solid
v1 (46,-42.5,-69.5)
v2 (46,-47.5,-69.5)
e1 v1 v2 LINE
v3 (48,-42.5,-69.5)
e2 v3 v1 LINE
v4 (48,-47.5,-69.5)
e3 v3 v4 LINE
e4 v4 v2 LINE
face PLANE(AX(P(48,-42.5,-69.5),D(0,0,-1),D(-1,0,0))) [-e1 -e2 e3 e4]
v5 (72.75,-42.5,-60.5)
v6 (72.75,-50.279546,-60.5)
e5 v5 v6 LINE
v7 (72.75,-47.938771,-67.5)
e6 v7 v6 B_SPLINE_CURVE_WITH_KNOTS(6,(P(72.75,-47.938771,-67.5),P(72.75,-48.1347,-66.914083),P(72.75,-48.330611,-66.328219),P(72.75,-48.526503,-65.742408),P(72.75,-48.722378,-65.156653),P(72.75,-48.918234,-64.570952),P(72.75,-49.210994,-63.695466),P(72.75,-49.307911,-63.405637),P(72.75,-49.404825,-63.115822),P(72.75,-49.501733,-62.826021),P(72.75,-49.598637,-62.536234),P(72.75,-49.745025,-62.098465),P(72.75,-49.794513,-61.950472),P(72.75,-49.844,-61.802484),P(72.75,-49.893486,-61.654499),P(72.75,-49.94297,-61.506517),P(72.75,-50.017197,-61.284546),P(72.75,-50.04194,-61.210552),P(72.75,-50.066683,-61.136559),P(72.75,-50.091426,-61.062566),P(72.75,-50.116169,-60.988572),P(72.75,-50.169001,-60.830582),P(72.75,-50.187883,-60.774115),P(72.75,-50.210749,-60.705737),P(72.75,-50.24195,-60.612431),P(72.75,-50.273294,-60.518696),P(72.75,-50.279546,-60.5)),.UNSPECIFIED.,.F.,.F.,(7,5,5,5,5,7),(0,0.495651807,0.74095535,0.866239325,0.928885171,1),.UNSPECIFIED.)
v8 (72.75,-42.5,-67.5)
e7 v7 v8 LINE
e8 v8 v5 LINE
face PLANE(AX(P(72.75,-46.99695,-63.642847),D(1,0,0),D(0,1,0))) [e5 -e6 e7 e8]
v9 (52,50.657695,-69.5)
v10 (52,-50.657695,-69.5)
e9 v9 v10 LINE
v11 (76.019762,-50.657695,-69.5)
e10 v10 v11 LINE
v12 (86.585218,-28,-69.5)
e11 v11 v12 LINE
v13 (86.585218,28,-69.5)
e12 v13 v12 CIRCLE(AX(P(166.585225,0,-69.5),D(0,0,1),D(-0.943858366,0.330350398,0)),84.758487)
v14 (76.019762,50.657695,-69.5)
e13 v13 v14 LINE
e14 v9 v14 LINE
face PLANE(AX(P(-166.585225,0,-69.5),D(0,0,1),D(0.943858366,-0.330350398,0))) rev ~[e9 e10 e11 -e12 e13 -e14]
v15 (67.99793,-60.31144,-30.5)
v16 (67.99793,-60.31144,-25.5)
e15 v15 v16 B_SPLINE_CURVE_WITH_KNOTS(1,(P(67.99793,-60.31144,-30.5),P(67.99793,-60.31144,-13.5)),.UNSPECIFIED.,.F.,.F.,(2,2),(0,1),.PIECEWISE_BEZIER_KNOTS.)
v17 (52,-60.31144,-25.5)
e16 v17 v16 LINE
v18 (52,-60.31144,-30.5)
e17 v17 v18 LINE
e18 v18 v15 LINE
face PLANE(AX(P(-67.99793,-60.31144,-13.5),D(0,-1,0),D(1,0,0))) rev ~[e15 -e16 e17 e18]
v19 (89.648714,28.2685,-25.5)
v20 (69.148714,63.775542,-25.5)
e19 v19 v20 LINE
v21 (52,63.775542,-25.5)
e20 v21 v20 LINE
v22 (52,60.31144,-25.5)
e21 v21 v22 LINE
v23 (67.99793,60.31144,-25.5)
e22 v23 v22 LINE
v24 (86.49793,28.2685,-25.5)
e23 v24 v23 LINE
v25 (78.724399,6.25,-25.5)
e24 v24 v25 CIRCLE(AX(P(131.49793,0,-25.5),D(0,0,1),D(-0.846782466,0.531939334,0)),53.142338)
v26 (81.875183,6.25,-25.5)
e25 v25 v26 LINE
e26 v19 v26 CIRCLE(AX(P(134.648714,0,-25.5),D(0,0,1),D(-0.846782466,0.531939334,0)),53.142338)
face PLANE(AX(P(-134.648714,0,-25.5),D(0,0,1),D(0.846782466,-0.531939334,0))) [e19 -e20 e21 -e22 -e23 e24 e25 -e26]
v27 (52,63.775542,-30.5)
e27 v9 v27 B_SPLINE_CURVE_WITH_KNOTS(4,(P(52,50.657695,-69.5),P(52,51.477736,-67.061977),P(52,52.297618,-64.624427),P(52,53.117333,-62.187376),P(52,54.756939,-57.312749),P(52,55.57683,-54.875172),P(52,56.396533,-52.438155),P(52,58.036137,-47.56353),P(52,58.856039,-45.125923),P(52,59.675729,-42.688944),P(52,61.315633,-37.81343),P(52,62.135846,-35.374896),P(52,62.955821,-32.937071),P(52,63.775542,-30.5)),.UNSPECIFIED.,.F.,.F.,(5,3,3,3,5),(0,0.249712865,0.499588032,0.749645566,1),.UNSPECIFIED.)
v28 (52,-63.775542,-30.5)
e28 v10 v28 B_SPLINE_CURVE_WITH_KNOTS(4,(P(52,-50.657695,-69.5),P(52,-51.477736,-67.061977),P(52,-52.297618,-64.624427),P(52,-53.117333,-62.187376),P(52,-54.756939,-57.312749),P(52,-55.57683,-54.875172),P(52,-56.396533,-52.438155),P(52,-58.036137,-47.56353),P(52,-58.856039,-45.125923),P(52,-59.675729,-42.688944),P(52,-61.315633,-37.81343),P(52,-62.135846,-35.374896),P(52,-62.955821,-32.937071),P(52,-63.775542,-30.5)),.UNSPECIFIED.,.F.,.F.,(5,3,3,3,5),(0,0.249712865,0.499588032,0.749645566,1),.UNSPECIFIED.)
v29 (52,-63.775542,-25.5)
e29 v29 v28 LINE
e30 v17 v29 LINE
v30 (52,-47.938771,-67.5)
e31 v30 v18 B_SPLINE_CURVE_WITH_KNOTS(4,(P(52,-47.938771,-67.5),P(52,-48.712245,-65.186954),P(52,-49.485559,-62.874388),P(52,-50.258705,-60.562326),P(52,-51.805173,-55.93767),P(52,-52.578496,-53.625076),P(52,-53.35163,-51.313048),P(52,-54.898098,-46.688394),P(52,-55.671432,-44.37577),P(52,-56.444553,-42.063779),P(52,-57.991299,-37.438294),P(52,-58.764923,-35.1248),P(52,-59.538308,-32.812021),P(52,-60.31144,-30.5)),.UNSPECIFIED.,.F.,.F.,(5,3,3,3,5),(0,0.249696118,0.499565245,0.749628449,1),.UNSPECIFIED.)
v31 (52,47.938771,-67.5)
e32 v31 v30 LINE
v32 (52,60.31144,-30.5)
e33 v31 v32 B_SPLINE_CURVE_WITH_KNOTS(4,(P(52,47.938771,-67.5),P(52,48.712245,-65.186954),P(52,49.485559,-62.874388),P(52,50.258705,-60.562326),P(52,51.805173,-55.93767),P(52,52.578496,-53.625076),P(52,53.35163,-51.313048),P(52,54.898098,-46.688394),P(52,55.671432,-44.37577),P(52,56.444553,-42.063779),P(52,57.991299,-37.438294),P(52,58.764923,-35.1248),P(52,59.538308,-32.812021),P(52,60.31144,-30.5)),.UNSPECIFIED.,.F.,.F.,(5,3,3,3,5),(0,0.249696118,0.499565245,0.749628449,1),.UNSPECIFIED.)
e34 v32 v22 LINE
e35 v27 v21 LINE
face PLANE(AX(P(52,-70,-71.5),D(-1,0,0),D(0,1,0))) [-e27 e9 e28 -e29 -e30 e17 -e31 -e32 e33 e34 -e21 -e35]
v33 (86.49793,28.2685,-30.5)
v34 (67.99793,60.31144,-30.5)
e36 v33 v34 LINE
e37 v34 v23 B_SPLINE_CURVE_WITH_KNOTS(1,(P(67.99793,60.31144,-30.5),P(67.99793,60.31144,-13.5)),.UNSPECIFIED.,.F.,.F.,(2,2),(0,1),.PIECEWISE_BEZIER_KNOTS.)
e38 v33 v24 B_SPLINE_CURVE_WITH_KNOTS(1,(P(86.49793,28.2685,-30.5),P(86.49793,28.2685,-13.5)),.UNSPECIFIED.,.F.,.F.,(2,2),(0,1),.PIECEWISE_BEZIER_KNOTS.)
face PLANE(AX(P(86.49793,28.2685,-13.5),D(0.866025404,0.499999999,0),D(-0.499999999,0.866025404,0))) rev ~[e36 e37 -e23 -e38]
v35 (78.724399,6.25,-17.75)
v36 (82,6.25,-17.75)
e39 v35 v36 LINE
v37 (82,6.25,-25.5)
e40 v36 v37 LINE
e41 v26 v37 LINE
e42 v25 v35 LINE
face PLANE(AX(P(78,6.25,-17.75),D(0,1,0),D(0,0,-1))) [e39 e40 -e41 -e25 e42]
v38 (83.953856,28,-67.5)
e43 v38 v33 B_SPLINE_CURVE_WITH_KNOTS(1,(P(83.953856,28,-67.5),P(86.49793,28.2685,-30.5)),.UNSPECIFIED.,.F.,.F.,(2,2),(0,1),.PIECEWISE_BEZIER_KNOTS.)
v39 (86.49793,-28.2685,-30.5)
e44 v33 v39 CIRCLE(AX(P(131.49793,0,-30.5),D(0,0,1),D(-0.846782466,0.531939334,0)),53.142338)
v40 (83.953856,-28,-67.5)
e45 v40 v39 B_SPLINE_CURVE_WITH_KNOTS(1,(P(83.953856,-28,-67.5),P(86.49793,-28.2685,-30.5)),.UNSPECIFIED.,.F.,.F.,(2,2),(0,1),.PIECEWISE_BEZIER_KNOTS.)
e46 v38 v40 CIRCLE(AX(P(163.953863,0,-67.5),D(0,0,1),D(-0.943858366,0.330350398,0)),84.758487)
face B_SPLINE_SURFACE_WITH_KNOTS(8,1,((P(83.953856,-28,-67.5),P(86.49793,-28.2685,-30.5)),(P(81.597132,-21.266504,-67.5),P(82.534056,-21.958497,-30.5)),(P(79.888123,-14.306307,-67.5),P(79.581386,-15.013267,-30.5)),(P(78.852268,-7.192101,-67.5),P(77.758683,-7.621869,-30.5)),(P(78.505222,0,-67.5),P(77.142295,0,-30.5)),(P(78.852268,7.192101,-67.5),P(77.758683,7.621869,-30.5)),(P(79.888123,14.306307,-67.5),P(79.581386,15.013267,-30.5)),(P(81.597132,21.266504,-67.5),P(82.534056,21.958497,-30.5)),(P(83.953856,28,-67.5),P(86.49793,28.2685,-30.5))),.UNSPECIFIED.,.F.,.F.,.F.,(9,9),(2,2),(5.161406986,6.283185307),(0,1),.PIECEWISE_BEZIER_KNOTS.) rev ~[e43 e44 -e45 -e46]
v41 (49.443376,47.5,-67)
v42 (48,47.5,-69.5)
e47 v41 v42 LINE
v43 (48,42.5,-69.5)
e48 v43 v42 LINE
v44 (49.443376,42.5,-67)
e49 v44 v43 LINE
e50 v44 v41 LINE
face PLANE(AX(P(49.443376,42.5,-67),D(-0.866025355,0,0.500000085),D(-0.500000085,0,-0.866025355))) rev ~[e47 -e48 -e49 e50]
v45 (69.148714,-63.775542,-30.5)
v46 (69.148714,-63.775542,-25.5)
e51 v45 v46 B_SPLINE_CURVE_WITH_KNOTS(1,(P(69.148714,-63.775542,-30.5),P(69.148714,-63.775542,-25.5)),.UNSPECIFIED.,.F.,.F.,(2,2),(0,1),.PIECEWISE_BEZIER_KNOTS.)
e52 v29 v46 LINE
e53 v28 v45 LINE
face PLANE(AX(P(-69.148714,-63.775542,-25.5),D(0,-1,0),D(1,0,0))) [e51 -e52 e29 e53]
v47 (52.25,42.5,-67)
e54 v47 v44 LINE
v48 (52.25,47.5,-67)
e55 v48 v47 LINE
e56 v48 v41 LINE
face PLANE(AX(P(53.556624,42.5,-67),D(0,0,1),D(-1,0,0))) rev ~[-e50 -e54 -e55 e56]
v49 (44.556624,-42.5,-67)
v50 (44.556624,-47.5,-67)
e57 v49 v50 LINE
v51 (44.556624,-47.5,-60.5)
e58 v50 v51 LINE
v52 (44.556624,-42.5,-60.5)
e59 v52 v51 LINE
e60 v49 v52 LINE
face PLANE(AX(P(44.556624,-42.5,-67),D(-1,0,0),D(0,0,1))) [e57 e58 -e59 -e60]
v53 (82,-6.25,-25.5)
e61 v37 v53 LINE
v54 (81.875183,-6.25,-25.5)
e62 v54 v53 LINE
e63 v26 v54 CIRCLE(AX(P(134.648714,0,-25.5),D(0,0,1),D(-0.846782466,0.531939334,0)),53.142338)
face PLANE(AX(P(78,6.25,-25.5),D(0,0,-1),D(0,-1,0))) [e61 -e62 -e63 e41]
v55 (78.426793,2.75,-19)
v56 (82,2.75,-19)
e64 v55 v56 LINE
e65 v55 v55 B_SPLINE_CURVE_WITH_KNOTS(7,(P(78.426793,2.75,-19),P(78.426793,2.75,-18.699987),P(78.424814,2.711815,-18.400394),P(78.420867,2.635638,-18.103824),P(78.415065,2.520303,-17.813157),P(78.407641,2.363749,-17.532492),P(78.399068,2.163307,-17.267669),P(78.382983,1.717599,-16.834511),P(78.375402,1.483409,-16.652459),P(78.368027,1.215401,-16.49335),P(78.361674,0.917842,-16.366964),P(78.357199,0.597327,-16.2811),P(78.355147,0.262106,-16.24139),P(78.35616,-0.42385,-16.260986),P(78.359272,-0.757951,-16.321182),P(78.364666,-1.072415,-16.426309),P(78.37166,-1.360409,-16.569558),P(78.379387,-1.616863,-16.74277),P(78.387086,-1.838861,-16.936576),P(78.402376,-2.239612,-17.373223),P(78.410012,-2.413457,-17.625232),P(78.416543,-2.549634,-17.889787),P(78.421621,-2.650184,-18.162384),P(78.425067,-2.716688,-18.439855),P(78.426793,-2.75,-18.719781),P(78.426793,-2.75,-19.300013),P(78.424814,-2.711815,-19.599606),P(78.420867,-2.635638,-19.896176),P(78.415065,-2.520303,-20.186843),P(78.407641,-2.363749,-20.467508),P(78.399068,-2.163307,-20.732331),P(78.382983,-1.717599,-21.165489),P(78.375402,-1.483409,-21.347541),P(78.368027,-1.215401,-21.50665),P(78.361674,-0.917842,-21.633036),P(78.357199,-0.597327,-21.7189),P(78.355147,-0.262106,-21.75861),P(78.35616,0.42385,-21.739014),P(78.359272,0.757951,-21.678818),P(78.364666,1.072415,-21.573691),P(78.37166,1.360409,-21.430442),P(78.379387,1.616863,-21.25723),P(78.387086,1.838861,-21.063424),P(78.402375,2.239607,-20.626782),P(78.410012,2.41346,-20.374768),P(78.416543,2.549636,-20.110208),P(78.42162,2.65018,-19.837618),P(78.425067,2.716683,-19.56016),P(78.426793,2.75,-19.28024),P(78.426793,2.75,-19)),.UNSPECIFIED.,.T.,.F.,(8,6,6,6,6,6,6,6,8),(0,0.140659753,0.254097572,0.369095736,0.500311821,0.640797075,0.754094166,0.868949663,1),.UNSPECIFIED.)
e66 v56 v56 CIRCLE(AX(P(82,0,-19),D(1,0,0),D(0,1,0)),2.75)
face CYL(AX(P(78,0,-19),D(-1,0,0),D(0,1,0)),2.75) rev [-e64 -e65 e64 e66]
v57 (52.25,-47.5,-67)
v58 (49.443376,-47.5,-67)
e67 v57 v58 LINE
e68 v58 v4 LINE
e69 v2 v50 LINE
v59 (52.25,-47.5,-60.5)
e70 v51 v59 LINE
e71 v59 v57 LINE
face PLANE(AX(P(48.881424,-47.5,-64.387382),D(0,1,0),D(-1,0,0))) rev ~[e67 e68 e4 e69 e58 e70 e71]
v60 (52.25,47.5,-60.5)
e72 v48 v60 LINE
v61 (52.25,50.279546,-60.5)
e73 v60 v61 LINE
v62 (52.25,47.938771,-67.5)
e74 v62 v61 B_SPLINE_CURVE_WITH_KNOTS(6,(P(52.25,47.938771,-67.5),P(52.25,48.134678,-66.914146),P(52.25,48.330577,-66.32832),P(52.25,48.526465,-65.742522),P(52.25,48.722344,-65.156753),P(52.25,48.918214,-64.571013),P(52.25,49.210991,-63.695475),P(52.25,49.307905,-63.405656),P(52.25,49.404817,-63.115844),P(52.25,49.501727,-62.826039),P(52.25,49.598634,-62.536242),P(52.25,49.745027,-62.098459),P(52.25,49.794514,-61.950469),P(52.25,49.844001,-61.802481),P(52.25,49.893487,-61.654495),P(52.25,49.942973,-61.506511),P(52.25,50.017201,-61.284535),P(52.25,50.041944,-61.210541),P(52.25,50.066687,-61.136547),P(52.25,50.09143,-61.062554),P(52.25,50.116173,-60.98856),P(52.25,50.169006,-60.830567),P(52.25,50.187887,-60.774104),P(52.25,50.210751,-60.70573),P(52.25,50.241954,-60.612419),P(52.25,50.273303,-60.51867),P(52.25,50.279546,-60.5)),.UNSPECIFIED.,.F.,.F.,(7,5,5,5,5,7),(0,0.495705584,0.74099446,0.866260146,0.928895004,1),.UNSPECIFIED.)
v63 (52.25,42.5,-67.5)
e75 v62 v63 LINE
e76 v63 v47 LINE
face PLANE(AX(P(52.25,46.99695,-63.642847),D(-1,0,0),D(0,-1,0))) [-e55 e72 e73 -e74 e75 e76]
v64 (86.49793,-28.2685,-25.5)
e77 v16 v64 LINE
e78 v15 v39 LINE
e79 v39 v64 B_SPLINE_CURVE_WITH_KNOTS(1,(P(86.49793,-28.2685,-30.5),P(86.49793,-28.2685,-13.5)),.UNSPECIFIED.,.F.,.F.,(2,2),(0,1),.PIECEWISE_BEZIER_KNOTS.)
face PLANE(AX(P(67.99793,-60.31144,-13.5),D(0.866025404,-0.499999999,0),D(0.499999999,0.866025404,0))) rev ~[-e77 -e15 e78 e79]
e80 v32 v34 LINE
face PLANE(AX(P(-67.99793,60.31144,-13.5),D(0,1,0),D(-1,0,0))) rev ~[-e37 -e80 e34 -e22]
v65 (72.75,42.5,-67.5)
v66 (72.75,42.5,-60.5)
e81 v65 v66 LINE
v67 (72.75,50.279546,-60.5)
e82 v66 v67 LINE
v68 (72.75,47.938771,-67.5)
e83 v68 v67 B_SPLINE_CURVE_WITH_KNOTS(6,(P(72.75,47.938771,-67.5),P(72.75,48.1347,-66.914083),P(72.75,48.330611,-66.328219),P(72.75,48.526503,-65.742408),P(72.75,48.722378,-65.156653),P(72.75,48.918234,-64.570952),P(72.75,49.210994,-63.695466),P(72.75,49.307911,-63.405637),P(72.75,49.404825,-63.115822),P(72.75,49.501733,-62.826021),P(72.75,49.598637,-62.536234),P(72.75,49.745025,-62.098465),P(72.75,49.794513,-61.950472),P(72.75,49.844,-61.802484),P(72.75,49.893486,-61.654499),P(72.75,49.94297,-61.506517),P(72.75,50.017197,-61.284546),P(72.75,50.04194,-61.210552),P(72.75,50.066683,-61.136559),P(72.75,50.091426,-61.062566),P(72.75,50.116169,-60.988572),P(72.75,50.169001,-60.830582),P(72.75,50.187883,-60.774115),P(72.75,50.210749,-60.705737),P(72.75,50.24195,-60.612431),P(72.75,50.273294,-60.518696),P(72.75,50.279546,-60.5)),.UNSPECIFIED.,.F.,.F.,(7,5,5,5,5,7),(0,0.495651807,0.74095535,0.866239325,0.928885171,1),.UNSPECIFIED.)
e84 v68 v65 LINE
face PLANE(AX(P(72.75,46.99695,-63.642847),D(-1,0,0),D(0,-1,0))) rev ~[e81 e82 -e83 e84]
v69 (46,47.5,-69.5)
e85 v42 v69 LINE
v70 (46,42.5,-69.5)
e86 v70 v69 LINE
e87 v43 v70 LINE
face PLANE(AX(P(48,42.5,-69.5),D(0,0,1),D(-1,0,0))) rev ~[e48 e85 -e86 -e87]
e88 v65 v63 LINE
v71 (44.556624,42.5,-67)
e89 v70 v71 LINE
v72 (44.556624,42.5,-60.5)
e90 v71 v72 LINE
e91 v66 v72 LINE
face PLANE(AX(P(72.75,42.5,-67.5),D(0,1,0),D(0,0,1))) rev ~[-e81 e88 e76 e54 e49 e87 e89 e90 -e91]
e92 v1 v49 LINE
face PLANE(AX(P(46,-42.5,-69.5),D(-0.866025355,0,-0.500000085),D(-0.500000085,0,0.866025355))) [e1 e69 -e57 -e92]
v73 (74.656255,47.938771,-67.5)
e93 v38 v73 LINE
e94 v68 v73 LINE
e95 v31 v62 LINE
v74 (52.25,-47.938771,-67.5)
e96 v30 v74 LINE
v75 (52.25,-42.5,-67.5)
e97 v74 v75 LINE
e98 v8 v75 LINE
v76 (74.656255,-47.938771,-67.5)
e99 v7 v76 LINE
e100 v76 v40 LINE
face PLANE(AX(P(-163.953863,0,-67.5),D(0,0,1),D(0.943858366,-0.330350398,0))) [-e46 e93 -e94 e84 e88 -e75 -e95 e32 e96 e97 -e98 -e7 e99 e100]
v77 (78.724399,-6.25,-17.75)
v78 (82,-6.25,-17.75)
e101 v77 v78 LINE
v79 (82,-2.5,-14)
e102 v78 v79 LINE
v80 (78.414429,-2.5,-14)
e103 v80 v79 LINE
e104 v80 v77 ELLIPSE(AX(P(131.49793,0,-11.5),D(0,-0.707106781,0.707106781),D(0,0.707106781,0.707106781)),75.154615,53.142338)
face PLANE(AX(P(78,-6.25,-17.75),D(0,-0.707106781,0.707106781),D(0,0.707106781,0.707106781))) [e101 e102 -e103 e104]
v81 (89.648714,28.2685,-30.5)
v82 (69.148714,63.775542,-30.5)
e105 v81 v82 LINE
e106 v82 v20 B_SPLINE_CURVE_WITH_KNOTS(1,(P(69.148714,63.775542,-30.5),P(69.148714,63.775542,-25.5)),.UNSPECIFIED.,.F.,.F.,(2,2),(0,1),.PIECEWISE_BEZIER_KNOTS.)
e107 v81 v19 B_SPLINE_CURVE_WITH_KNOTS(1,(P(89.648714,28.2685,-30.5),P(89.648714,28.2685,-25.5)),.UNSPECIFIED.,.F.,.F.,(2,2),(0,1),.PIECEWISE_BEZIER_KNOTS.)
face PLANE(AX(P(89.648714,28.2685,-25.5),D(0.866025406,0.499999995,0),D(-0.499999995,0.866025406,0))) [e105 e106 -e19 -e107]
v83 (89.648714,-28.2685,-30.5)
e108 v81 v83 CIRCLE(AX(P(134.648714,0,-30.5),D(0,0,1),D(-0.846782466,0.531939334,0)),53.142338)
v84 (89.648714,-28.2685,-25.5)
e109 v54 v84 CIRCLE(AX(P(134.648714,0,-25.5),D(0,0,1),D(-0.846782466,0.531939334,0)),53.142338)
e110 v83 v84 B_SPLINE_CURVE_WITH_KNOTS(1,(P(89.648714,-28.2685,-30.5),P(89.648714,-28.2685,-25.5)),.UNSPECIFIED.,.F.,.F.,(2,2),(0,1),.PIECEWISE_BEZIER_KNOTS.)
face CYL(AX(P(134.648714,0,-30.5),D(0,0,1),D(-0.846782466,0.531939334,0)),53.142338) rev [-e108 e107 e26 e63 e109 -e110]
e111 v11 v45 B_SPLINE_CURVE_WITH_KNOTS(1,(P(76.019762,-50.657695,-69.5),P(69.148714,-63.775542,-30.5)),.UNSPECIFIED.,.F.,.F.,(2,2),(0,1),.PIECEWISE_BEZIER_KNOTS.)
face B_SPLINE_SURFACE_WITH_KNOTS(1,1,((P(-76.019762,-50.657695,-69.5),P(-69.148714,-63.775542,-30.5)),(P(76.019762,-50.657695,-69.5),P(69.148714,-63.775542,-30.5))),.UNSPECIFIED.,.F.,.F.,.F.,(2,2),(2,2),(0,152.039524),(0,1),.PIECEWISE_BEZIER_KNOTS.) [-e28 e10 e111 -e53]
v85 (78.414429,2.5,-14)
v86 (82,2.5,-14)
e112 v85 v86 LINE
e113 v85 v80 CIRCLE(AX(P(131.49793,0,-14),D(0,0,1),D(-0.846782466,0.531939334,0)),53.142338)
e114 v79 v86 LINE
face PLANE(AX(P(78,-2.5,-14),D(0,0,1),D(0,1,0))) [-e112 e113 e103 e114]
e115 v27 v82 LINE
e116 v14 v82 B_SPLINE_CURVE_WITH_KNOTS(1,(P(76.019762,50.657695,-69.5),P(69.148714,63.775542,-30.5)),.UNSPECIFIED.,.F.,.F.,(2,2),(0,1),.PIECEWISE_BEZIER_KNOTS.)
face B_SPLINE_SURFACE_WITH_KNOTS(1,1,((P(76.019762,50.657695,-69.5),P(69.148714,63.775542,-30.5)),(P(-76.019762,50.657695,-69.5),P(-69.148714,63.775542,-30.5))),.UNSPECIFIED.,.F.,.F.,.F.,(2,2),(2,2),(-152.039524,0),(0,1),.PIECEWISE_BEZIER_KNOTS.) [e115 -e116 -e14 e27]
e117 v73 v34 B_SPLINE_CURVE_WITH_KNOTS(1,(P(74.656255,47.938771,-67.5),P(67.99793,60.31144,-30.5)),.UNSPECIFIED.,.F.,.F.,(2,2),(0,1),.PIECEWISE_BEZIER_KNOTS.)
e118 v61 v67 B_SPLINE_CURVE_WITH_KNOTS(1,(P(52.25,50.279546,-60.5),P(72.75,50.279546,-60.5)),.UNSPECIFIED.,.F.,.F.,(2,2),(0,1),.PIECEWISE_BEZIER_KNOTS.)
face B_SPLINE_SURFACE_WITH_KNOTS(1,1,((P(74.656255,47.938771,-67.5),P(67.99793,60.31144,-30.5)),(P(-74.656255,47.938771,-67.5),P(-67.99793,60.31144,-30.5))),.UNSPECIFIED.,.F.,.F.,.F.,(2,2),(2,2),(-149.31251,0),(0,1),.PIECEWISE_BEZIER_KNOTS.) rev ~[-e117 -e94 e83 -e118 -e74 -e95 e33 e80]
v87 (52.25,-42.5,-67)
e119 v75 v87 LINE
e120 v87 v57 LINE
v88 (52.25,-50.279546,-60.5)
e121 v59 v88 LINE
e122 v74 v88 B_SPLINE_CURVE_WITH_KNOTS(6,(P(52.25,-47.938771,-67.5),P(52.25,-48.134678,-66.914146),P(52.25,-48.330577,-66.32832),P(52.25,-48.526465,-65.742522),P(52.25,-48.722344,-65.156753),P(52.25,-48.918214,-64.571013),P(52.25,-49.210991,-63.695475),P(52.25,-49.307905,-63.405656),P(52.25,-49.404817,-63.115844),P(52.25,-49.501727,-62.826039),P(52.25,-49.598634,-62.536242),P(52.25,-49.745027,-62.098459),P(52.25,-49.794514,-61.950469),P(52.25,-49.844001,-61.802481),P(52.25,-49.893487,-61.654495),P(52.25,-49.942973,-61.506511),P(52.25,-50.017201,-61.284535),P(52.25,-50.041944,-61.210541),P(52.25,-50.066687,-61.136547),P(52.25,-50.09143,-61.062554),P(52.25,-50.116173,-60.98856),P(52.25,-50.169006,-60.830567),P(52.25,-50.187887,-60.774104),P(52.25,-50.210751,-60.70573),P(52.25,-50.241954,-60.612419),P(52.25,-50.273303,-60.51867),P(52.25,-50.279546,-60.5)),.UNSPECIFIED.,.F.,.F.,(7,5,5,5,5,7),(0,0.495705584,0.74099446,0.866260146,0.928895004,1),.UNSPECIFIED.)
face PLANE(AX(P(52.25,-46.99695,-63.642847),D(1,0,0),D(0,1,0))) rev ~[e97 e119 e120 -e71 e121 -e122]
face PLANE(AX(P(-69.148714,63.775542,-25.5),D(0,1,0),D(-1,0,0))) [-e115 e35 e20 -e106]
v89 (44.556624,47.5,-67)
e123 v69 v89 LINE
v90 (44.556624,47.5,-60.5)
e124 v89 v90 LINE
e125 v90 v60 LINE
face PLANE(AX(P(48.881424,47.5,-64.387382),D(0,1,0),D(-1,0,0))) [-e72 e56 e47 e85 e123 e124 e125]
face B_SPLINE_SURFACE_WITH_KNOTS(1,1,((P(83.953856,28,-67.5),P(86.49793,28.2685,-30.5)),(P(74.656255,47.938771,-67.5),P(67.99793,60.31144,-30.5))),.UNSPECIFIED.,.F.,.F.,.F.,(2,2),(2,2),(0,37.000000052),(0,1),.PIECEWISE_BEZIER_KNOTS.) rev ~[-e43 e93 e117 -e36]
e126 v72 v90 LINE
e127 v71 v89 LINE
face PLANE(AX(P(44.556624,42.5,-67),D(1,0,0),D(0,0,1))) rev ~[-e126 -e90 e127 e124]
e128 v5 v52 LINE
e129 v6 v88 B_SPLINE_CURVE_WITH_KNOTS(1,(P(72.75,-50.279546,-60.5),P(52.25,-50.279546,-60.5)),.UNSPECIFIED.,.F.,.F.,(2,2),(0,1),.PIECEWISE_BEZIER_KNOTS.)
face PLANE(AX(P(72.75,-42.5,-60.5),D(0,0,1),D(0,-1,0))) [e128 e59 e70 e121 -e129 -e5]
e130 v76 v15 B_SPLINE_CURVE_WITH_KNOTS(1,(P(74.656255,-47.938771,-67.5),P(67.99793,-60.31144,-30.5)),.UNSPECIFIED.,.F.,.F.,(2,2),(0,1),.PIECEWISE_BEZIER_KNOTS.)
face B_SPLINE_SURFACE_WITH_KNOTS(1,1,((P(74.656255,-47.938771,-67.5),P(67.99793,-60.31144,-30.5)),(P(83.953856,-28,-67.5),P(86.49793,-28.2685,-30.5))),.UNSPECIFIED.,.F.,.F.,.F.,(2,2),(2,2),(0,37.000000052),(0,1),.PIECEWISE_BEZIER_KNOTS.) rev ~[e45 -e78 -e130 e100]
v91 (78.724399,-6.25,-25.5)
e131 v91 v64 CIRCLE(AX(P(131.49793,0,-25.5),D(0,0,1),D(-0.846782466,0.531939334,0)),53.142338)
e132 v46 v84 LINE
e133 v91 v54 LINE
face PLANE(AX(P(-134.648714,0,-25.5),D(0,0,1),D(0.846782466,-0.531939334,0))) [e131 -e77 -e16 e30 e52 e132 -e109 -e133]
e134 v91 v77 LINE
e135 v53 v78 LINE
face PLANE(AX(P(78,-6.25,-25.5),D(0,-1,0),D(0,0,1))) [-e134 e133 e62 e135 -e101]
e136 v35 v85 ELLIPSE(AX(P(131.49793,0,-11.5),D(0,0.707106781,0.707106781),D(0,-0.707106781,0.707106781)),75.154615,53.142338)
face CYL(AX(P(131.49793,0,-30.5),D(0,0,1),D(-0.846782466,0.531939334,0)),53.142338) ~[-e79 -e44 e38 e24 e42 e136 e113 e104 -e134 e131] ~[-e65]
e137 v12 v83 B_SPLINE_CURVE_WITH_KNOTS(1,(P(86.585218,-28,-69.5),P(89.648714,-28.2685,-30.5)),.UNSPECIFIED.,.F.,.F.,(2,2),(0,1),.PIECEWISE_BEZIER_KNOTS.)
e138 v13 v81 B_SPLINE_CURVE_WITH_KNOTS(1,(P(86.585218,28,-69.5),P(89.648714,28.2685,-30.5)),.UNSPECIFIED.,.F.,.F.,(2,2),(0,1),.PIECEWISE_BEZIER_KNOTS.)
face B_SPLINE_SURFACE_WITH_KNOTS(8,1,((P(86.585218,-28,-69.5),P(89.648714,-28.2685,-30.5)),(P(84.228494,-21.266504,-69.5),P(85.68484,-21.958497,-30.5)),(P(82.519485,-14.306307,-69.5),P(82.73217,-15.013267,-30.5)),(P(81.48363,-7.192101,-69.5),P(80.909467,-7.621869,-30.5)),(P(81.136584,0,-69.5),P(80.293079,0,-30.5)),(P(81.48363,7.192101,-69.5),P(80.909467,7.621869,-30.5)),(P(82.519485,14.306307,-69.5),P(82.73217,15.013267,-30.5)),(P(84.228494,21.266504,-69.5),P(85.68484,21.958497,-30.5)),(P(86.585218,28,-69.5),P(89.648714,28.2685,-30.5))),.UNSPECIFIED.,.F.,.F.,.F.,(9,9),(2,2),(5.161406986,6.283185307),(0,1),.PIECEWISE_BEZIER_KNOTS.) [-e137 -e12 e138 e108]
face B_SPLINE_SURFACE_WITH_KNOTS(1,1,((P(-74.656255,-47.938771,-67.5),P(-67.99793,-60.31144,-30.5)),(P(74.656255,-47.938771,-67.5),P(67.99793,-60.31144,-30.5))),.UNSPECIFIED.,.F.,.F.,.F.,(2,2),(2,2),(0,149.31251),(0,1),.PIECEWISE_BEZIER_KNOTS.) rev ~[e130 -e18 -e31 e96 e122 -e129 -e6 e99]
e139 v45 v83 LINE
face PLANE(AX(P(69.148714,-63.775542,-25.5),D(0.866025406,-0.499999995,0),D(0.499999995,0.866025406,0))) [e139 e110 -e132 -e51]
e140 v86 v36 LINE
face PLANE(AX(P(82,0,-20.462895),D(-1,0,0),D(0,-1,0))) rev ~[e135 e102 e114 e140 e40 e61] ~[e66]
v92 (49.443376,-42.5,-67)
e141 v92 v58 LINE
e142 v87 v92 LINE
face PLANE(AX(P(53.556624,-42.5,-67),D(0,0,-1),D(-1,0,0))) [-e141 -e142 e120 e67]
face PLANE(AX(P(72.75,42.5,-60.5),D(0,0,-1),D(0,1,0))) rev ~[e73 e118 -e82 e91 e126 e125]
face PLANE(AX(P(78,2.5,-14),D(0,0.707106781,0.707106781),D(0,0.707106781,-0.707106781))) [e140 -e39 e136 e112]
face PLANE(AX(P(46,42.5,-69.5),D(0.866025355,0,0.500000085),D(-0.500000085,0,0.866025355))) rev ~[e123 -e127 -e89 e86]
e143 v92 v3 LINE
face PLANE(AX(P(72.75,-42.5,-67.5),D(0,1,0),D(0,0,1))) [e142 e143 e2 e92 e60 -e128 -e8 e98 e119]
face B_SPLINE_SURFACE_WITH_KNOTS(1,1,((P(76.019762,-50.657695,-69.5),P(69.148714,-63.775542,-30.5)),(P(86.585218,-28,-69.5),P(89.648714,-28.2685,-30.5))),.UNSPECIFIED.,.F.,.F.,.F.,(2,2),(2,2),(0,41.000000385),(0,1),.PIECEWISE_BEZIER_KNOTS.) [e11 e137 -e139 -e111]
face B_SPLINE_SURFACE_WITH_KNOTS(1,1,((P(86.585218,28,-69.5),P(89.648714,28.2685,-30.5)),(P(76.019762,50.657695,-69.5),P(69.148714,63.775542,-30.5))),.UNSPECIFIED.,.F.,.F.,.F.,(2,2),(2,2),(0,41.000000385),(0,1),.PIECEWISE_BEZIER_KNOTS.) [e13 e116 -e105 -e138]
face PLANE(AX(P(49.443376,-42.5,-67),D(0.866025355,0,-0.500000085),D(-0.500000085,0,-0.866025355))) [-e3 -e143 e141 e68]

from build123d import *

# Parameters (mm, degrees)
EXTRUDE136140_DEPTH = 5
BOX017_W            = 41
BOX017_H            = 140
BOX017_DEPTH        = 60
SKETCH348_R         = 1.85
EXTRUDE136129_DEPTH = 25
EXTRUDE136133_DEPTH = 6
EXTRUDE136132_DEPTH = 6
SKETCH339_R         = 1.75
EXTRUDE136134_DEPTH = 14
EXTRUDE136135_DEPTH = 5
SKETCH349_R         = 2.85
EXTRUDE136130_DEPTH = 25
SKETCH353_R         = 2.75
EXTRUDE136137_DEPTH = 4
EXTRUDE136131_DEPTH = 116
EXTRUDE136138_DEPTH = 20.5
EXTRUDE136128_DEPTH = 8
EXTRUDE136127_DEPTH = 8
ARRAY032_COUNT      = 2
EXTRUDE136139_DEPTH = 5


with BuildPart() as extrude136140:
    # Sketch355 → Extrude136140 (new body)
    with BuildSketch(Plane.XZ):
        Polygon((0, 0), (-2, 0), (-3.443376, 2.5), (-3.443376, 9), (5.556624, 9), (5.556624, 2.5), (1.443376, 2.5), align=None)
    extrude(amount=-EXTRUDE136140_DEPTH)


with BuildPart() as extrude136140_1:
    # Extrude136140 placement: moved
    add(extrude136140.part.moved(Location((48, 42.5, -44))))


with BuildPart() as cube014:
    # Box017 → Box017 (new body)
    with BuildSketch(Plane(origin=(52, -70, -46), x_dir=(1, 0, 0), z_dir=(0, 0, 1))):
        with Locations((20.5, 70)):
            Rectangle(BOX017_W, BOX017_H)
    extrude(amount=BOX017_DEPTH)


with BuildPart() as extrude136129:
    # Sketch348 → Extrude136129 (new body)
    with BuildSketch(Plane.XY):
        with Locations((-40, 60)):
            Circle(SKETCH348_R)
        with Locations((40, 60)):
            Circle(SKETCH348_R)
        with Locations((40, -60)):
            Circle(SKETCH348_R)
        with Locations((-40, -60)):
            Circle(SKETCH348_R)
    extrude(amount=-EXTRUDE136129_DEPTH)


with BuildPart() as extrude136133:
    # Sketch351 → Extrude136133 (new body)
    with BuildSketch(Plane.XZ):
        Polygon((-4.05083, 4), (-1.25, 0), (1.25, 0), (4.05083, 4), align=None)
    extrude(amount=-EXTRUDE136133_DEPTH)


with BuildPart() as extrude136133_1:
    # Extrude136133 placement: moved
    add(extrude136133.part.moved(Location((0, 42, 0))))


with BuildPart() as fusion034004041077001011012:
    # Sketch351 → Extrude136132 (new body)
    with BuildSketch(Plane.XZ):
        Polygon((-4.05083, 4), (-1.25, 0), (1.25, 0), (4.05083, 4), align=None)
    extrude(amount=-EXTRUDE136132_DEPTH)


with BuildPart() as fusion034004041077001011012_1:
    # Extrude136132 placement: moved
    add(fusion034004041077001011012.part.moved(Location((0, -48, 0))))

    # Fusion034004041077001011012: union Extrude136133
    add(extrude136133_1.part)


with BuildPart() as fusion034004041077001011012_2:
    # Fusion034004041077001011012 placement: moved
    add(fusion034004041077001011012_1.part.moved(Location((47, 0, -44))))


with BuildPart() as extrude136134:
    # Sketch339 → Extrude136134 (new body)
    with BuildSketch(Plane.XY.offset(-32)):
        with Locations((-37.5, 46.5)):
            Circle(SKETCH339_R)
        with Locations((37.5, 46.5)):
            Circle(SKETCH339_R)
        with Locations((37.5, -46.5)):
            Circle(SKETCH339_R)
        with Locations((-37.5, -46.5)):
            Circle(SKETCH339_R)
    extrude(amount=-EXTRUDE136134_DEPTH)


with BuildPart() as extrude136135:
    # Sketch340 → Extrude136135 (new body)
    with BuildSketch(Plane.XY.offset(-39)):
        Polygon((39.125, -49.314583), (40.75, -46.5), (39.125, -43.685417), (35.875, -43.685417), (34.25, -46.5), (35.875, -49.314583), align=None)
        Polygon((39.125, 43.685417), (40.75, 46.5), (39.125, 49.314583), (35.875, 49.314583), (34.25, 46.5), (35.875, 43.685417), align=None)
        Polygon((-34.25, 46.5), (-35.875, 49.314583), (-39.125, 49.314583), (-40.75, 46.5), (-39.125, 43.685417), (-35.875, 43.685417), align=None)
        Polygon((-40.75, -46.5), (-39.125, -49.314583), (-35.875, -49.314583), (-34.25, -46.5), (-35.875, -43.685417), (-39.125, -43.685417), align=None)
    extrude(amount=EXTRUDE136135_DEPTH)


with BuildPart() as fusion034004041077001011011:
    # Sketch349 → Extrude136130 (new body)
    with BuildSketch(Plane.XY.offset(-8)):
        with Locations((-40, -60)):
            Circle(SKETCH349_R)
        with Locations((40, -60)):
            Circle(SKETCH349_R)
        with Locations((40, 60)):
            Circle(SKETCH349_R)
        with Locations((-40, 60)):
            Circle(SKETCH349_R)
    extrude(amount=-EXTRUDE136130_DEPTH)

    # Fusion034004041077001011011: union Extrude136129, Fusion034004041077001011012, Extrude136134, Extrude136135
    add(extrude136129.part)
    add(fusion034004041077001011012_2.part)
    add(extrude136134.part)
    add(extrude136135.part)


with BuildPart() as loft005:
    # Sketch344 → Loft005 section 0
    with BuildSketch(Plane.XY.offset(-42)):
        with BuildLine():
            Line((83.953856, 28), (74.656255, 47.938771))
            Line((-74.656255, 47.938771), (74.656255, 47.938771))
            Line((-74.656255, 47.938771), (-83.953856, 28))
            ThreePointArc((-83.953856, -28), (-79.195376, 0), (-83.953856, 28))
            Line((-83.953856, -28), (-74.656255, -47.938771))
            Line((-74.656255, -47.938771), (74.656255, -47.938771))
            Line((74.656255, -47.938771), (83.953856, -28))
            ThreePointArc((83.953856, 28), (79.195376, 0), (83.953856, -28))
        make_face()
    # Sketch345 → Loft005 section 1
    with BuildSketch(Plane.XY.offset(-5)):
        with BuildLine():
            Line((86.49793, 28.2685), (67.99793, 60.31144))
            Line((-67.99793, 60.31144), (67.99793, 60.31144))
            Line((-67.99793, 60.31144), (-86.49793, 28.2685))
            ThreePointArc((-86.49793, -28.2685), (-78.355592, 0), (-86.49793, 28.2685))
            Line((-86.49793, -28.2685), (-67.99793, -60.31144))
            Line((-67.99793, -60.31144), (67.99793, -60.31144))
            Line((67.99793, -60.31144), (86.49793, -28.2685))
            ThreePointArc((86.49793, 28.2685), (78.355592, 0), (86.49793, -28.2685))
        make_face()
    # Sketch343 → Loft005 section 2
    with BuildSketch(Plane.XY.offset(12)):
        with BuildLine():
            Line((86.49793, 28.2685), (67.99793, 60.31144))
            Line((-67.99793, 60.31144), (67.99793, 60.31144))
            Line((-67.99793, 60.31144), (-86.49793, 28.2685))
            ThreePointArc((-86.49793, -28.2685), (-78.355592, 0), (-86.49793, 28.2685))
            Line((-86.49793, -28.2685), (-67.99793, -60.31144))
            Line((-67.99793, -60.31144), (67.99793, -60.31144))
            Line((67.99793, -60.31144), (86.49793, -28.2685))
            ThreePointArc((86.49793, 28.2685), (78.355592, 0), (86.49793, -28.2685))
        make_face()
    loft(ruled=True)


with BuildPart() as extrude136137:
    # Sketch353 → Extrude136137 (new body)
    with BuildSketch(Plane.YZ):
        Polygon((-6.25, 0), (-6.25, 7.75), (-2.5, 11.5), (2.5, 11.5), (6.25, 7.75), (6.25, 0), align=None)
        with Locations((0, 6.5)):
            Circle(SKETCH353_R, mode=Mode.SUBTRACT)
    extrude(amount=EXTRUDE136137_DEPTH)


with BuildPart() as extrude136137_1:
    # Extrude136137 placement: moved
    add(extrude136137.part.moved(Location((78, 0, 0))))


with BuildPart() as cut009010006006006005025006:
    # Sketch342 → Loft006 section 0
    with BuildSketch(Plane.XY.offset(-44)):
        with BuildLine():
            Line((86.585218, 28), (76.019762, 50.657695))
            Line((-76.019762, 50.657695), (76.019762, 50.657695))
            Line((-76.019762, 50.657695), (-86.585218, 28))
            ThreePointArc((-86.585218, -28), (-81.826738, 0), (-86.585218, 28))
            Line((-86.585218, -28), (-76.019762, -50.657695))
            Line((-76.019762, -50.657695), (76.019762, -50.657695))
            Line((76.019762, -50.657695), (86.585218, -28))
            ThreePointArc((86.585218, 28), (81.826738, 0), (86.585218, -28))
        make_face()
    # Sketch346 → Loft006 section 1
    with BuildSketch(Plane.XY.offset(-5)):
        with BuildLine():
            Line((89.648714, 28.2685), (69.148714, 63.775542))
            Line((-69.148714, 63.775542), (69.148714, 63.775542))
            Line((-69.148714, 63.775542), (-89.648714, 28.2685))
            ThreePointArc((-89.648714, -28.2685), (-81.506376, 0), (-89.648714, 28.2685))
            Line((-89.648714, -28.2685), (-69.148714, -63.775542))
            Line((-69.148714, -63.775542), (69.148714, -63.775542))
            Line((69.148714, -63.775542), (89.648714, -28.2685))
            ThreePointArc((89.648714, 28.2685), (81.506376, 0), (89.648714, -28.2685))
        make_face()
    # Sketch341 → Loft006 section 2
    with BuildSketch(Plane.XY):
        with BuildLine():
            Line((89.648714, 28.2685), (69.148714, 63.775542))
            Line((-69.148714, 63.775542), (69.148714, 63.775542))
            Line((-69.148714, 63.775542), (-89.648714, 28.2685))
            ThreePointArc((-89.648714, -28.2685), (-81.506376, 0), (-89.648714, 28.2685))
            Line((-89.648714, -28.2685), (-69.148714, -63.775542))
            Line((-69.148714, -63.775542), (69.148714, -63.775542))
            Line((69.148714, -63.775542), (89.648714, -28.2685))
            ThreePointArc((89.648714, 28.2685), (81.506376, 0), (89.648714, -28.2685))
        make_face()
    loft(ruled=True)

    # Fusion034004041077001011013: union Extrude136137
    add(extrude136137_1.part)

    # Cut009010006006006005025006: cut Loft005
    add(loft005.part, mode=Mode.SUBTRACT)


with BuildPart() as extrude136131:
    # Sketch350 → Extrude136131 (new body)
    with BuildSketch(Plane.YZ):
        Polygon((-52.764154, 0), (-49.5, -7), (-42.5, -7), (-42.5, 0), align=None)
        Polygon((52.764154, 0), (49.5, -7), (42.5, -7), (42.5, 0), align=None)
        Polygon((-26, 0), (-23, 0), (-23, -7), (-30.041452, -7), align=None)
        Polygon((23, 0), (26, 0), (30.041452, -7), (23, -7), align=None)
    extrude(amount=EXTRUDE136131_DEPTH)


with BuildPart() as extrude136131_1:
    # Extrude136131 placement: moved
    add(extrude136131.part.moved(Location((-72.85, 0, -35))))


with BuildPart() as extrude136138:
    # Sketch354 → Extrude136138 (new body)
    with BuildSketch(Plane.YZ):
        Polygon((-52.764154, 0), (-49.5, -7), (-42.5, -7), (-42.5, 0), align=None)
        Polygon((52.764154, 0), (49.5, -7), (42.5, -7), (42.5, 0), align=None)
    extrude(amount=-EXTRUDE136138_DEPTH)


with BuildPart() as extrude136138_1:
    # Extrude136138 placement: moved
    add(extrude136138.part.moved(Location((72.75, 0, -35))))


with BuildPart() as extrude136128:
    # Sketch347 → Extrude136128 (new body)
    with BuildSketch(Plane.YZ):
        Polygon((0, 0), (0, -5), (7, -17.124356), (7, 0), align=None)
    extrude(amount=EXTRUDE136128_DEPTH)


with BuildPart() as extrude136128_1:
    # Extrude136128 placement: moved
    add(extrude136128.part.moved(Location((-44, -63, 0))))


with BuildPart() as common001:
    # Sketch347 → Extrude136127 (new body)
    with BuildSketch(Plane.YZ):
        Polygon((0, 0), (0, -5), (7, -17.124356), (7, 0), align=None)
    extrude(amount=EXTRUDE136127_DEPTH)


with BuildPart() as common001_1:
    # Extrude136127 placement: moved
    add(common001.part.moved(Location((36, -63, 0))))

    # Fusion034004041077001011010: union Extrude136128
    add(extrude136128_1.part)

    # Array032: Common001 ×2 about axis
    array032_axis = Axis((0, 0, 0), (0, 0, 1))


with BuildPart() as common001_2:
    add(common001_1.part)
    for i in range(1, ARRAY032_COUNT):
        add(common001_1.part.rotate(array032_axis, i * 360 / ARRAY032_COUNT))

    # Fusion034004041077001011014: union Cut009010006006006005025006, Extrude136131, Extrude136138
    add(cut009010006006006005025006.part)
    add(extrude136131_1.part)
    add(extrude136138_1.part)

    # Cut009010006006006005025007: cut Fusion034004041077001011011
    add(fusion034004041077001011011.part, mode=Mode.SUBTRACT)

    # Common001: intersect Cube014
    add(cube014.part, mode=Mode.INTERSECT)


with BuildPart() as batterycoverfusion44mm:
    # Sketch355 → Extrude136139 (new body)
    with BuildSketch(Plane.XZ):
        Polygon((0, 0), (-2, 0), (-3.443376, 2.5), (-3.443376, 9), (5.556624, 9), (5.556624, 2.5), (1.443376, 2.5), align=None)
    extrude(amount=EXTRUDE136139_DEPTH)


with BuildPart() as batterycoverfusion44mm_1:
    # Extrude136139 placement: moved
    add(batterycoverfusion44mm.part.moved(Location((48, -42.5, -44))))

    # Fusion034004041077001011015: union Extrude136140, Common001
    add(extrude136140_1.part)
    add(common001_2.part)


with BuildPart() as batterycoverfusion44mm_2:
    # Fusion034004041077001011015 placement: moved
    add(batterycoverfusion44mm_1.part.moved(Location((0, 0, -25.5))))


solid = batterycoverfusion44mm_2.part
